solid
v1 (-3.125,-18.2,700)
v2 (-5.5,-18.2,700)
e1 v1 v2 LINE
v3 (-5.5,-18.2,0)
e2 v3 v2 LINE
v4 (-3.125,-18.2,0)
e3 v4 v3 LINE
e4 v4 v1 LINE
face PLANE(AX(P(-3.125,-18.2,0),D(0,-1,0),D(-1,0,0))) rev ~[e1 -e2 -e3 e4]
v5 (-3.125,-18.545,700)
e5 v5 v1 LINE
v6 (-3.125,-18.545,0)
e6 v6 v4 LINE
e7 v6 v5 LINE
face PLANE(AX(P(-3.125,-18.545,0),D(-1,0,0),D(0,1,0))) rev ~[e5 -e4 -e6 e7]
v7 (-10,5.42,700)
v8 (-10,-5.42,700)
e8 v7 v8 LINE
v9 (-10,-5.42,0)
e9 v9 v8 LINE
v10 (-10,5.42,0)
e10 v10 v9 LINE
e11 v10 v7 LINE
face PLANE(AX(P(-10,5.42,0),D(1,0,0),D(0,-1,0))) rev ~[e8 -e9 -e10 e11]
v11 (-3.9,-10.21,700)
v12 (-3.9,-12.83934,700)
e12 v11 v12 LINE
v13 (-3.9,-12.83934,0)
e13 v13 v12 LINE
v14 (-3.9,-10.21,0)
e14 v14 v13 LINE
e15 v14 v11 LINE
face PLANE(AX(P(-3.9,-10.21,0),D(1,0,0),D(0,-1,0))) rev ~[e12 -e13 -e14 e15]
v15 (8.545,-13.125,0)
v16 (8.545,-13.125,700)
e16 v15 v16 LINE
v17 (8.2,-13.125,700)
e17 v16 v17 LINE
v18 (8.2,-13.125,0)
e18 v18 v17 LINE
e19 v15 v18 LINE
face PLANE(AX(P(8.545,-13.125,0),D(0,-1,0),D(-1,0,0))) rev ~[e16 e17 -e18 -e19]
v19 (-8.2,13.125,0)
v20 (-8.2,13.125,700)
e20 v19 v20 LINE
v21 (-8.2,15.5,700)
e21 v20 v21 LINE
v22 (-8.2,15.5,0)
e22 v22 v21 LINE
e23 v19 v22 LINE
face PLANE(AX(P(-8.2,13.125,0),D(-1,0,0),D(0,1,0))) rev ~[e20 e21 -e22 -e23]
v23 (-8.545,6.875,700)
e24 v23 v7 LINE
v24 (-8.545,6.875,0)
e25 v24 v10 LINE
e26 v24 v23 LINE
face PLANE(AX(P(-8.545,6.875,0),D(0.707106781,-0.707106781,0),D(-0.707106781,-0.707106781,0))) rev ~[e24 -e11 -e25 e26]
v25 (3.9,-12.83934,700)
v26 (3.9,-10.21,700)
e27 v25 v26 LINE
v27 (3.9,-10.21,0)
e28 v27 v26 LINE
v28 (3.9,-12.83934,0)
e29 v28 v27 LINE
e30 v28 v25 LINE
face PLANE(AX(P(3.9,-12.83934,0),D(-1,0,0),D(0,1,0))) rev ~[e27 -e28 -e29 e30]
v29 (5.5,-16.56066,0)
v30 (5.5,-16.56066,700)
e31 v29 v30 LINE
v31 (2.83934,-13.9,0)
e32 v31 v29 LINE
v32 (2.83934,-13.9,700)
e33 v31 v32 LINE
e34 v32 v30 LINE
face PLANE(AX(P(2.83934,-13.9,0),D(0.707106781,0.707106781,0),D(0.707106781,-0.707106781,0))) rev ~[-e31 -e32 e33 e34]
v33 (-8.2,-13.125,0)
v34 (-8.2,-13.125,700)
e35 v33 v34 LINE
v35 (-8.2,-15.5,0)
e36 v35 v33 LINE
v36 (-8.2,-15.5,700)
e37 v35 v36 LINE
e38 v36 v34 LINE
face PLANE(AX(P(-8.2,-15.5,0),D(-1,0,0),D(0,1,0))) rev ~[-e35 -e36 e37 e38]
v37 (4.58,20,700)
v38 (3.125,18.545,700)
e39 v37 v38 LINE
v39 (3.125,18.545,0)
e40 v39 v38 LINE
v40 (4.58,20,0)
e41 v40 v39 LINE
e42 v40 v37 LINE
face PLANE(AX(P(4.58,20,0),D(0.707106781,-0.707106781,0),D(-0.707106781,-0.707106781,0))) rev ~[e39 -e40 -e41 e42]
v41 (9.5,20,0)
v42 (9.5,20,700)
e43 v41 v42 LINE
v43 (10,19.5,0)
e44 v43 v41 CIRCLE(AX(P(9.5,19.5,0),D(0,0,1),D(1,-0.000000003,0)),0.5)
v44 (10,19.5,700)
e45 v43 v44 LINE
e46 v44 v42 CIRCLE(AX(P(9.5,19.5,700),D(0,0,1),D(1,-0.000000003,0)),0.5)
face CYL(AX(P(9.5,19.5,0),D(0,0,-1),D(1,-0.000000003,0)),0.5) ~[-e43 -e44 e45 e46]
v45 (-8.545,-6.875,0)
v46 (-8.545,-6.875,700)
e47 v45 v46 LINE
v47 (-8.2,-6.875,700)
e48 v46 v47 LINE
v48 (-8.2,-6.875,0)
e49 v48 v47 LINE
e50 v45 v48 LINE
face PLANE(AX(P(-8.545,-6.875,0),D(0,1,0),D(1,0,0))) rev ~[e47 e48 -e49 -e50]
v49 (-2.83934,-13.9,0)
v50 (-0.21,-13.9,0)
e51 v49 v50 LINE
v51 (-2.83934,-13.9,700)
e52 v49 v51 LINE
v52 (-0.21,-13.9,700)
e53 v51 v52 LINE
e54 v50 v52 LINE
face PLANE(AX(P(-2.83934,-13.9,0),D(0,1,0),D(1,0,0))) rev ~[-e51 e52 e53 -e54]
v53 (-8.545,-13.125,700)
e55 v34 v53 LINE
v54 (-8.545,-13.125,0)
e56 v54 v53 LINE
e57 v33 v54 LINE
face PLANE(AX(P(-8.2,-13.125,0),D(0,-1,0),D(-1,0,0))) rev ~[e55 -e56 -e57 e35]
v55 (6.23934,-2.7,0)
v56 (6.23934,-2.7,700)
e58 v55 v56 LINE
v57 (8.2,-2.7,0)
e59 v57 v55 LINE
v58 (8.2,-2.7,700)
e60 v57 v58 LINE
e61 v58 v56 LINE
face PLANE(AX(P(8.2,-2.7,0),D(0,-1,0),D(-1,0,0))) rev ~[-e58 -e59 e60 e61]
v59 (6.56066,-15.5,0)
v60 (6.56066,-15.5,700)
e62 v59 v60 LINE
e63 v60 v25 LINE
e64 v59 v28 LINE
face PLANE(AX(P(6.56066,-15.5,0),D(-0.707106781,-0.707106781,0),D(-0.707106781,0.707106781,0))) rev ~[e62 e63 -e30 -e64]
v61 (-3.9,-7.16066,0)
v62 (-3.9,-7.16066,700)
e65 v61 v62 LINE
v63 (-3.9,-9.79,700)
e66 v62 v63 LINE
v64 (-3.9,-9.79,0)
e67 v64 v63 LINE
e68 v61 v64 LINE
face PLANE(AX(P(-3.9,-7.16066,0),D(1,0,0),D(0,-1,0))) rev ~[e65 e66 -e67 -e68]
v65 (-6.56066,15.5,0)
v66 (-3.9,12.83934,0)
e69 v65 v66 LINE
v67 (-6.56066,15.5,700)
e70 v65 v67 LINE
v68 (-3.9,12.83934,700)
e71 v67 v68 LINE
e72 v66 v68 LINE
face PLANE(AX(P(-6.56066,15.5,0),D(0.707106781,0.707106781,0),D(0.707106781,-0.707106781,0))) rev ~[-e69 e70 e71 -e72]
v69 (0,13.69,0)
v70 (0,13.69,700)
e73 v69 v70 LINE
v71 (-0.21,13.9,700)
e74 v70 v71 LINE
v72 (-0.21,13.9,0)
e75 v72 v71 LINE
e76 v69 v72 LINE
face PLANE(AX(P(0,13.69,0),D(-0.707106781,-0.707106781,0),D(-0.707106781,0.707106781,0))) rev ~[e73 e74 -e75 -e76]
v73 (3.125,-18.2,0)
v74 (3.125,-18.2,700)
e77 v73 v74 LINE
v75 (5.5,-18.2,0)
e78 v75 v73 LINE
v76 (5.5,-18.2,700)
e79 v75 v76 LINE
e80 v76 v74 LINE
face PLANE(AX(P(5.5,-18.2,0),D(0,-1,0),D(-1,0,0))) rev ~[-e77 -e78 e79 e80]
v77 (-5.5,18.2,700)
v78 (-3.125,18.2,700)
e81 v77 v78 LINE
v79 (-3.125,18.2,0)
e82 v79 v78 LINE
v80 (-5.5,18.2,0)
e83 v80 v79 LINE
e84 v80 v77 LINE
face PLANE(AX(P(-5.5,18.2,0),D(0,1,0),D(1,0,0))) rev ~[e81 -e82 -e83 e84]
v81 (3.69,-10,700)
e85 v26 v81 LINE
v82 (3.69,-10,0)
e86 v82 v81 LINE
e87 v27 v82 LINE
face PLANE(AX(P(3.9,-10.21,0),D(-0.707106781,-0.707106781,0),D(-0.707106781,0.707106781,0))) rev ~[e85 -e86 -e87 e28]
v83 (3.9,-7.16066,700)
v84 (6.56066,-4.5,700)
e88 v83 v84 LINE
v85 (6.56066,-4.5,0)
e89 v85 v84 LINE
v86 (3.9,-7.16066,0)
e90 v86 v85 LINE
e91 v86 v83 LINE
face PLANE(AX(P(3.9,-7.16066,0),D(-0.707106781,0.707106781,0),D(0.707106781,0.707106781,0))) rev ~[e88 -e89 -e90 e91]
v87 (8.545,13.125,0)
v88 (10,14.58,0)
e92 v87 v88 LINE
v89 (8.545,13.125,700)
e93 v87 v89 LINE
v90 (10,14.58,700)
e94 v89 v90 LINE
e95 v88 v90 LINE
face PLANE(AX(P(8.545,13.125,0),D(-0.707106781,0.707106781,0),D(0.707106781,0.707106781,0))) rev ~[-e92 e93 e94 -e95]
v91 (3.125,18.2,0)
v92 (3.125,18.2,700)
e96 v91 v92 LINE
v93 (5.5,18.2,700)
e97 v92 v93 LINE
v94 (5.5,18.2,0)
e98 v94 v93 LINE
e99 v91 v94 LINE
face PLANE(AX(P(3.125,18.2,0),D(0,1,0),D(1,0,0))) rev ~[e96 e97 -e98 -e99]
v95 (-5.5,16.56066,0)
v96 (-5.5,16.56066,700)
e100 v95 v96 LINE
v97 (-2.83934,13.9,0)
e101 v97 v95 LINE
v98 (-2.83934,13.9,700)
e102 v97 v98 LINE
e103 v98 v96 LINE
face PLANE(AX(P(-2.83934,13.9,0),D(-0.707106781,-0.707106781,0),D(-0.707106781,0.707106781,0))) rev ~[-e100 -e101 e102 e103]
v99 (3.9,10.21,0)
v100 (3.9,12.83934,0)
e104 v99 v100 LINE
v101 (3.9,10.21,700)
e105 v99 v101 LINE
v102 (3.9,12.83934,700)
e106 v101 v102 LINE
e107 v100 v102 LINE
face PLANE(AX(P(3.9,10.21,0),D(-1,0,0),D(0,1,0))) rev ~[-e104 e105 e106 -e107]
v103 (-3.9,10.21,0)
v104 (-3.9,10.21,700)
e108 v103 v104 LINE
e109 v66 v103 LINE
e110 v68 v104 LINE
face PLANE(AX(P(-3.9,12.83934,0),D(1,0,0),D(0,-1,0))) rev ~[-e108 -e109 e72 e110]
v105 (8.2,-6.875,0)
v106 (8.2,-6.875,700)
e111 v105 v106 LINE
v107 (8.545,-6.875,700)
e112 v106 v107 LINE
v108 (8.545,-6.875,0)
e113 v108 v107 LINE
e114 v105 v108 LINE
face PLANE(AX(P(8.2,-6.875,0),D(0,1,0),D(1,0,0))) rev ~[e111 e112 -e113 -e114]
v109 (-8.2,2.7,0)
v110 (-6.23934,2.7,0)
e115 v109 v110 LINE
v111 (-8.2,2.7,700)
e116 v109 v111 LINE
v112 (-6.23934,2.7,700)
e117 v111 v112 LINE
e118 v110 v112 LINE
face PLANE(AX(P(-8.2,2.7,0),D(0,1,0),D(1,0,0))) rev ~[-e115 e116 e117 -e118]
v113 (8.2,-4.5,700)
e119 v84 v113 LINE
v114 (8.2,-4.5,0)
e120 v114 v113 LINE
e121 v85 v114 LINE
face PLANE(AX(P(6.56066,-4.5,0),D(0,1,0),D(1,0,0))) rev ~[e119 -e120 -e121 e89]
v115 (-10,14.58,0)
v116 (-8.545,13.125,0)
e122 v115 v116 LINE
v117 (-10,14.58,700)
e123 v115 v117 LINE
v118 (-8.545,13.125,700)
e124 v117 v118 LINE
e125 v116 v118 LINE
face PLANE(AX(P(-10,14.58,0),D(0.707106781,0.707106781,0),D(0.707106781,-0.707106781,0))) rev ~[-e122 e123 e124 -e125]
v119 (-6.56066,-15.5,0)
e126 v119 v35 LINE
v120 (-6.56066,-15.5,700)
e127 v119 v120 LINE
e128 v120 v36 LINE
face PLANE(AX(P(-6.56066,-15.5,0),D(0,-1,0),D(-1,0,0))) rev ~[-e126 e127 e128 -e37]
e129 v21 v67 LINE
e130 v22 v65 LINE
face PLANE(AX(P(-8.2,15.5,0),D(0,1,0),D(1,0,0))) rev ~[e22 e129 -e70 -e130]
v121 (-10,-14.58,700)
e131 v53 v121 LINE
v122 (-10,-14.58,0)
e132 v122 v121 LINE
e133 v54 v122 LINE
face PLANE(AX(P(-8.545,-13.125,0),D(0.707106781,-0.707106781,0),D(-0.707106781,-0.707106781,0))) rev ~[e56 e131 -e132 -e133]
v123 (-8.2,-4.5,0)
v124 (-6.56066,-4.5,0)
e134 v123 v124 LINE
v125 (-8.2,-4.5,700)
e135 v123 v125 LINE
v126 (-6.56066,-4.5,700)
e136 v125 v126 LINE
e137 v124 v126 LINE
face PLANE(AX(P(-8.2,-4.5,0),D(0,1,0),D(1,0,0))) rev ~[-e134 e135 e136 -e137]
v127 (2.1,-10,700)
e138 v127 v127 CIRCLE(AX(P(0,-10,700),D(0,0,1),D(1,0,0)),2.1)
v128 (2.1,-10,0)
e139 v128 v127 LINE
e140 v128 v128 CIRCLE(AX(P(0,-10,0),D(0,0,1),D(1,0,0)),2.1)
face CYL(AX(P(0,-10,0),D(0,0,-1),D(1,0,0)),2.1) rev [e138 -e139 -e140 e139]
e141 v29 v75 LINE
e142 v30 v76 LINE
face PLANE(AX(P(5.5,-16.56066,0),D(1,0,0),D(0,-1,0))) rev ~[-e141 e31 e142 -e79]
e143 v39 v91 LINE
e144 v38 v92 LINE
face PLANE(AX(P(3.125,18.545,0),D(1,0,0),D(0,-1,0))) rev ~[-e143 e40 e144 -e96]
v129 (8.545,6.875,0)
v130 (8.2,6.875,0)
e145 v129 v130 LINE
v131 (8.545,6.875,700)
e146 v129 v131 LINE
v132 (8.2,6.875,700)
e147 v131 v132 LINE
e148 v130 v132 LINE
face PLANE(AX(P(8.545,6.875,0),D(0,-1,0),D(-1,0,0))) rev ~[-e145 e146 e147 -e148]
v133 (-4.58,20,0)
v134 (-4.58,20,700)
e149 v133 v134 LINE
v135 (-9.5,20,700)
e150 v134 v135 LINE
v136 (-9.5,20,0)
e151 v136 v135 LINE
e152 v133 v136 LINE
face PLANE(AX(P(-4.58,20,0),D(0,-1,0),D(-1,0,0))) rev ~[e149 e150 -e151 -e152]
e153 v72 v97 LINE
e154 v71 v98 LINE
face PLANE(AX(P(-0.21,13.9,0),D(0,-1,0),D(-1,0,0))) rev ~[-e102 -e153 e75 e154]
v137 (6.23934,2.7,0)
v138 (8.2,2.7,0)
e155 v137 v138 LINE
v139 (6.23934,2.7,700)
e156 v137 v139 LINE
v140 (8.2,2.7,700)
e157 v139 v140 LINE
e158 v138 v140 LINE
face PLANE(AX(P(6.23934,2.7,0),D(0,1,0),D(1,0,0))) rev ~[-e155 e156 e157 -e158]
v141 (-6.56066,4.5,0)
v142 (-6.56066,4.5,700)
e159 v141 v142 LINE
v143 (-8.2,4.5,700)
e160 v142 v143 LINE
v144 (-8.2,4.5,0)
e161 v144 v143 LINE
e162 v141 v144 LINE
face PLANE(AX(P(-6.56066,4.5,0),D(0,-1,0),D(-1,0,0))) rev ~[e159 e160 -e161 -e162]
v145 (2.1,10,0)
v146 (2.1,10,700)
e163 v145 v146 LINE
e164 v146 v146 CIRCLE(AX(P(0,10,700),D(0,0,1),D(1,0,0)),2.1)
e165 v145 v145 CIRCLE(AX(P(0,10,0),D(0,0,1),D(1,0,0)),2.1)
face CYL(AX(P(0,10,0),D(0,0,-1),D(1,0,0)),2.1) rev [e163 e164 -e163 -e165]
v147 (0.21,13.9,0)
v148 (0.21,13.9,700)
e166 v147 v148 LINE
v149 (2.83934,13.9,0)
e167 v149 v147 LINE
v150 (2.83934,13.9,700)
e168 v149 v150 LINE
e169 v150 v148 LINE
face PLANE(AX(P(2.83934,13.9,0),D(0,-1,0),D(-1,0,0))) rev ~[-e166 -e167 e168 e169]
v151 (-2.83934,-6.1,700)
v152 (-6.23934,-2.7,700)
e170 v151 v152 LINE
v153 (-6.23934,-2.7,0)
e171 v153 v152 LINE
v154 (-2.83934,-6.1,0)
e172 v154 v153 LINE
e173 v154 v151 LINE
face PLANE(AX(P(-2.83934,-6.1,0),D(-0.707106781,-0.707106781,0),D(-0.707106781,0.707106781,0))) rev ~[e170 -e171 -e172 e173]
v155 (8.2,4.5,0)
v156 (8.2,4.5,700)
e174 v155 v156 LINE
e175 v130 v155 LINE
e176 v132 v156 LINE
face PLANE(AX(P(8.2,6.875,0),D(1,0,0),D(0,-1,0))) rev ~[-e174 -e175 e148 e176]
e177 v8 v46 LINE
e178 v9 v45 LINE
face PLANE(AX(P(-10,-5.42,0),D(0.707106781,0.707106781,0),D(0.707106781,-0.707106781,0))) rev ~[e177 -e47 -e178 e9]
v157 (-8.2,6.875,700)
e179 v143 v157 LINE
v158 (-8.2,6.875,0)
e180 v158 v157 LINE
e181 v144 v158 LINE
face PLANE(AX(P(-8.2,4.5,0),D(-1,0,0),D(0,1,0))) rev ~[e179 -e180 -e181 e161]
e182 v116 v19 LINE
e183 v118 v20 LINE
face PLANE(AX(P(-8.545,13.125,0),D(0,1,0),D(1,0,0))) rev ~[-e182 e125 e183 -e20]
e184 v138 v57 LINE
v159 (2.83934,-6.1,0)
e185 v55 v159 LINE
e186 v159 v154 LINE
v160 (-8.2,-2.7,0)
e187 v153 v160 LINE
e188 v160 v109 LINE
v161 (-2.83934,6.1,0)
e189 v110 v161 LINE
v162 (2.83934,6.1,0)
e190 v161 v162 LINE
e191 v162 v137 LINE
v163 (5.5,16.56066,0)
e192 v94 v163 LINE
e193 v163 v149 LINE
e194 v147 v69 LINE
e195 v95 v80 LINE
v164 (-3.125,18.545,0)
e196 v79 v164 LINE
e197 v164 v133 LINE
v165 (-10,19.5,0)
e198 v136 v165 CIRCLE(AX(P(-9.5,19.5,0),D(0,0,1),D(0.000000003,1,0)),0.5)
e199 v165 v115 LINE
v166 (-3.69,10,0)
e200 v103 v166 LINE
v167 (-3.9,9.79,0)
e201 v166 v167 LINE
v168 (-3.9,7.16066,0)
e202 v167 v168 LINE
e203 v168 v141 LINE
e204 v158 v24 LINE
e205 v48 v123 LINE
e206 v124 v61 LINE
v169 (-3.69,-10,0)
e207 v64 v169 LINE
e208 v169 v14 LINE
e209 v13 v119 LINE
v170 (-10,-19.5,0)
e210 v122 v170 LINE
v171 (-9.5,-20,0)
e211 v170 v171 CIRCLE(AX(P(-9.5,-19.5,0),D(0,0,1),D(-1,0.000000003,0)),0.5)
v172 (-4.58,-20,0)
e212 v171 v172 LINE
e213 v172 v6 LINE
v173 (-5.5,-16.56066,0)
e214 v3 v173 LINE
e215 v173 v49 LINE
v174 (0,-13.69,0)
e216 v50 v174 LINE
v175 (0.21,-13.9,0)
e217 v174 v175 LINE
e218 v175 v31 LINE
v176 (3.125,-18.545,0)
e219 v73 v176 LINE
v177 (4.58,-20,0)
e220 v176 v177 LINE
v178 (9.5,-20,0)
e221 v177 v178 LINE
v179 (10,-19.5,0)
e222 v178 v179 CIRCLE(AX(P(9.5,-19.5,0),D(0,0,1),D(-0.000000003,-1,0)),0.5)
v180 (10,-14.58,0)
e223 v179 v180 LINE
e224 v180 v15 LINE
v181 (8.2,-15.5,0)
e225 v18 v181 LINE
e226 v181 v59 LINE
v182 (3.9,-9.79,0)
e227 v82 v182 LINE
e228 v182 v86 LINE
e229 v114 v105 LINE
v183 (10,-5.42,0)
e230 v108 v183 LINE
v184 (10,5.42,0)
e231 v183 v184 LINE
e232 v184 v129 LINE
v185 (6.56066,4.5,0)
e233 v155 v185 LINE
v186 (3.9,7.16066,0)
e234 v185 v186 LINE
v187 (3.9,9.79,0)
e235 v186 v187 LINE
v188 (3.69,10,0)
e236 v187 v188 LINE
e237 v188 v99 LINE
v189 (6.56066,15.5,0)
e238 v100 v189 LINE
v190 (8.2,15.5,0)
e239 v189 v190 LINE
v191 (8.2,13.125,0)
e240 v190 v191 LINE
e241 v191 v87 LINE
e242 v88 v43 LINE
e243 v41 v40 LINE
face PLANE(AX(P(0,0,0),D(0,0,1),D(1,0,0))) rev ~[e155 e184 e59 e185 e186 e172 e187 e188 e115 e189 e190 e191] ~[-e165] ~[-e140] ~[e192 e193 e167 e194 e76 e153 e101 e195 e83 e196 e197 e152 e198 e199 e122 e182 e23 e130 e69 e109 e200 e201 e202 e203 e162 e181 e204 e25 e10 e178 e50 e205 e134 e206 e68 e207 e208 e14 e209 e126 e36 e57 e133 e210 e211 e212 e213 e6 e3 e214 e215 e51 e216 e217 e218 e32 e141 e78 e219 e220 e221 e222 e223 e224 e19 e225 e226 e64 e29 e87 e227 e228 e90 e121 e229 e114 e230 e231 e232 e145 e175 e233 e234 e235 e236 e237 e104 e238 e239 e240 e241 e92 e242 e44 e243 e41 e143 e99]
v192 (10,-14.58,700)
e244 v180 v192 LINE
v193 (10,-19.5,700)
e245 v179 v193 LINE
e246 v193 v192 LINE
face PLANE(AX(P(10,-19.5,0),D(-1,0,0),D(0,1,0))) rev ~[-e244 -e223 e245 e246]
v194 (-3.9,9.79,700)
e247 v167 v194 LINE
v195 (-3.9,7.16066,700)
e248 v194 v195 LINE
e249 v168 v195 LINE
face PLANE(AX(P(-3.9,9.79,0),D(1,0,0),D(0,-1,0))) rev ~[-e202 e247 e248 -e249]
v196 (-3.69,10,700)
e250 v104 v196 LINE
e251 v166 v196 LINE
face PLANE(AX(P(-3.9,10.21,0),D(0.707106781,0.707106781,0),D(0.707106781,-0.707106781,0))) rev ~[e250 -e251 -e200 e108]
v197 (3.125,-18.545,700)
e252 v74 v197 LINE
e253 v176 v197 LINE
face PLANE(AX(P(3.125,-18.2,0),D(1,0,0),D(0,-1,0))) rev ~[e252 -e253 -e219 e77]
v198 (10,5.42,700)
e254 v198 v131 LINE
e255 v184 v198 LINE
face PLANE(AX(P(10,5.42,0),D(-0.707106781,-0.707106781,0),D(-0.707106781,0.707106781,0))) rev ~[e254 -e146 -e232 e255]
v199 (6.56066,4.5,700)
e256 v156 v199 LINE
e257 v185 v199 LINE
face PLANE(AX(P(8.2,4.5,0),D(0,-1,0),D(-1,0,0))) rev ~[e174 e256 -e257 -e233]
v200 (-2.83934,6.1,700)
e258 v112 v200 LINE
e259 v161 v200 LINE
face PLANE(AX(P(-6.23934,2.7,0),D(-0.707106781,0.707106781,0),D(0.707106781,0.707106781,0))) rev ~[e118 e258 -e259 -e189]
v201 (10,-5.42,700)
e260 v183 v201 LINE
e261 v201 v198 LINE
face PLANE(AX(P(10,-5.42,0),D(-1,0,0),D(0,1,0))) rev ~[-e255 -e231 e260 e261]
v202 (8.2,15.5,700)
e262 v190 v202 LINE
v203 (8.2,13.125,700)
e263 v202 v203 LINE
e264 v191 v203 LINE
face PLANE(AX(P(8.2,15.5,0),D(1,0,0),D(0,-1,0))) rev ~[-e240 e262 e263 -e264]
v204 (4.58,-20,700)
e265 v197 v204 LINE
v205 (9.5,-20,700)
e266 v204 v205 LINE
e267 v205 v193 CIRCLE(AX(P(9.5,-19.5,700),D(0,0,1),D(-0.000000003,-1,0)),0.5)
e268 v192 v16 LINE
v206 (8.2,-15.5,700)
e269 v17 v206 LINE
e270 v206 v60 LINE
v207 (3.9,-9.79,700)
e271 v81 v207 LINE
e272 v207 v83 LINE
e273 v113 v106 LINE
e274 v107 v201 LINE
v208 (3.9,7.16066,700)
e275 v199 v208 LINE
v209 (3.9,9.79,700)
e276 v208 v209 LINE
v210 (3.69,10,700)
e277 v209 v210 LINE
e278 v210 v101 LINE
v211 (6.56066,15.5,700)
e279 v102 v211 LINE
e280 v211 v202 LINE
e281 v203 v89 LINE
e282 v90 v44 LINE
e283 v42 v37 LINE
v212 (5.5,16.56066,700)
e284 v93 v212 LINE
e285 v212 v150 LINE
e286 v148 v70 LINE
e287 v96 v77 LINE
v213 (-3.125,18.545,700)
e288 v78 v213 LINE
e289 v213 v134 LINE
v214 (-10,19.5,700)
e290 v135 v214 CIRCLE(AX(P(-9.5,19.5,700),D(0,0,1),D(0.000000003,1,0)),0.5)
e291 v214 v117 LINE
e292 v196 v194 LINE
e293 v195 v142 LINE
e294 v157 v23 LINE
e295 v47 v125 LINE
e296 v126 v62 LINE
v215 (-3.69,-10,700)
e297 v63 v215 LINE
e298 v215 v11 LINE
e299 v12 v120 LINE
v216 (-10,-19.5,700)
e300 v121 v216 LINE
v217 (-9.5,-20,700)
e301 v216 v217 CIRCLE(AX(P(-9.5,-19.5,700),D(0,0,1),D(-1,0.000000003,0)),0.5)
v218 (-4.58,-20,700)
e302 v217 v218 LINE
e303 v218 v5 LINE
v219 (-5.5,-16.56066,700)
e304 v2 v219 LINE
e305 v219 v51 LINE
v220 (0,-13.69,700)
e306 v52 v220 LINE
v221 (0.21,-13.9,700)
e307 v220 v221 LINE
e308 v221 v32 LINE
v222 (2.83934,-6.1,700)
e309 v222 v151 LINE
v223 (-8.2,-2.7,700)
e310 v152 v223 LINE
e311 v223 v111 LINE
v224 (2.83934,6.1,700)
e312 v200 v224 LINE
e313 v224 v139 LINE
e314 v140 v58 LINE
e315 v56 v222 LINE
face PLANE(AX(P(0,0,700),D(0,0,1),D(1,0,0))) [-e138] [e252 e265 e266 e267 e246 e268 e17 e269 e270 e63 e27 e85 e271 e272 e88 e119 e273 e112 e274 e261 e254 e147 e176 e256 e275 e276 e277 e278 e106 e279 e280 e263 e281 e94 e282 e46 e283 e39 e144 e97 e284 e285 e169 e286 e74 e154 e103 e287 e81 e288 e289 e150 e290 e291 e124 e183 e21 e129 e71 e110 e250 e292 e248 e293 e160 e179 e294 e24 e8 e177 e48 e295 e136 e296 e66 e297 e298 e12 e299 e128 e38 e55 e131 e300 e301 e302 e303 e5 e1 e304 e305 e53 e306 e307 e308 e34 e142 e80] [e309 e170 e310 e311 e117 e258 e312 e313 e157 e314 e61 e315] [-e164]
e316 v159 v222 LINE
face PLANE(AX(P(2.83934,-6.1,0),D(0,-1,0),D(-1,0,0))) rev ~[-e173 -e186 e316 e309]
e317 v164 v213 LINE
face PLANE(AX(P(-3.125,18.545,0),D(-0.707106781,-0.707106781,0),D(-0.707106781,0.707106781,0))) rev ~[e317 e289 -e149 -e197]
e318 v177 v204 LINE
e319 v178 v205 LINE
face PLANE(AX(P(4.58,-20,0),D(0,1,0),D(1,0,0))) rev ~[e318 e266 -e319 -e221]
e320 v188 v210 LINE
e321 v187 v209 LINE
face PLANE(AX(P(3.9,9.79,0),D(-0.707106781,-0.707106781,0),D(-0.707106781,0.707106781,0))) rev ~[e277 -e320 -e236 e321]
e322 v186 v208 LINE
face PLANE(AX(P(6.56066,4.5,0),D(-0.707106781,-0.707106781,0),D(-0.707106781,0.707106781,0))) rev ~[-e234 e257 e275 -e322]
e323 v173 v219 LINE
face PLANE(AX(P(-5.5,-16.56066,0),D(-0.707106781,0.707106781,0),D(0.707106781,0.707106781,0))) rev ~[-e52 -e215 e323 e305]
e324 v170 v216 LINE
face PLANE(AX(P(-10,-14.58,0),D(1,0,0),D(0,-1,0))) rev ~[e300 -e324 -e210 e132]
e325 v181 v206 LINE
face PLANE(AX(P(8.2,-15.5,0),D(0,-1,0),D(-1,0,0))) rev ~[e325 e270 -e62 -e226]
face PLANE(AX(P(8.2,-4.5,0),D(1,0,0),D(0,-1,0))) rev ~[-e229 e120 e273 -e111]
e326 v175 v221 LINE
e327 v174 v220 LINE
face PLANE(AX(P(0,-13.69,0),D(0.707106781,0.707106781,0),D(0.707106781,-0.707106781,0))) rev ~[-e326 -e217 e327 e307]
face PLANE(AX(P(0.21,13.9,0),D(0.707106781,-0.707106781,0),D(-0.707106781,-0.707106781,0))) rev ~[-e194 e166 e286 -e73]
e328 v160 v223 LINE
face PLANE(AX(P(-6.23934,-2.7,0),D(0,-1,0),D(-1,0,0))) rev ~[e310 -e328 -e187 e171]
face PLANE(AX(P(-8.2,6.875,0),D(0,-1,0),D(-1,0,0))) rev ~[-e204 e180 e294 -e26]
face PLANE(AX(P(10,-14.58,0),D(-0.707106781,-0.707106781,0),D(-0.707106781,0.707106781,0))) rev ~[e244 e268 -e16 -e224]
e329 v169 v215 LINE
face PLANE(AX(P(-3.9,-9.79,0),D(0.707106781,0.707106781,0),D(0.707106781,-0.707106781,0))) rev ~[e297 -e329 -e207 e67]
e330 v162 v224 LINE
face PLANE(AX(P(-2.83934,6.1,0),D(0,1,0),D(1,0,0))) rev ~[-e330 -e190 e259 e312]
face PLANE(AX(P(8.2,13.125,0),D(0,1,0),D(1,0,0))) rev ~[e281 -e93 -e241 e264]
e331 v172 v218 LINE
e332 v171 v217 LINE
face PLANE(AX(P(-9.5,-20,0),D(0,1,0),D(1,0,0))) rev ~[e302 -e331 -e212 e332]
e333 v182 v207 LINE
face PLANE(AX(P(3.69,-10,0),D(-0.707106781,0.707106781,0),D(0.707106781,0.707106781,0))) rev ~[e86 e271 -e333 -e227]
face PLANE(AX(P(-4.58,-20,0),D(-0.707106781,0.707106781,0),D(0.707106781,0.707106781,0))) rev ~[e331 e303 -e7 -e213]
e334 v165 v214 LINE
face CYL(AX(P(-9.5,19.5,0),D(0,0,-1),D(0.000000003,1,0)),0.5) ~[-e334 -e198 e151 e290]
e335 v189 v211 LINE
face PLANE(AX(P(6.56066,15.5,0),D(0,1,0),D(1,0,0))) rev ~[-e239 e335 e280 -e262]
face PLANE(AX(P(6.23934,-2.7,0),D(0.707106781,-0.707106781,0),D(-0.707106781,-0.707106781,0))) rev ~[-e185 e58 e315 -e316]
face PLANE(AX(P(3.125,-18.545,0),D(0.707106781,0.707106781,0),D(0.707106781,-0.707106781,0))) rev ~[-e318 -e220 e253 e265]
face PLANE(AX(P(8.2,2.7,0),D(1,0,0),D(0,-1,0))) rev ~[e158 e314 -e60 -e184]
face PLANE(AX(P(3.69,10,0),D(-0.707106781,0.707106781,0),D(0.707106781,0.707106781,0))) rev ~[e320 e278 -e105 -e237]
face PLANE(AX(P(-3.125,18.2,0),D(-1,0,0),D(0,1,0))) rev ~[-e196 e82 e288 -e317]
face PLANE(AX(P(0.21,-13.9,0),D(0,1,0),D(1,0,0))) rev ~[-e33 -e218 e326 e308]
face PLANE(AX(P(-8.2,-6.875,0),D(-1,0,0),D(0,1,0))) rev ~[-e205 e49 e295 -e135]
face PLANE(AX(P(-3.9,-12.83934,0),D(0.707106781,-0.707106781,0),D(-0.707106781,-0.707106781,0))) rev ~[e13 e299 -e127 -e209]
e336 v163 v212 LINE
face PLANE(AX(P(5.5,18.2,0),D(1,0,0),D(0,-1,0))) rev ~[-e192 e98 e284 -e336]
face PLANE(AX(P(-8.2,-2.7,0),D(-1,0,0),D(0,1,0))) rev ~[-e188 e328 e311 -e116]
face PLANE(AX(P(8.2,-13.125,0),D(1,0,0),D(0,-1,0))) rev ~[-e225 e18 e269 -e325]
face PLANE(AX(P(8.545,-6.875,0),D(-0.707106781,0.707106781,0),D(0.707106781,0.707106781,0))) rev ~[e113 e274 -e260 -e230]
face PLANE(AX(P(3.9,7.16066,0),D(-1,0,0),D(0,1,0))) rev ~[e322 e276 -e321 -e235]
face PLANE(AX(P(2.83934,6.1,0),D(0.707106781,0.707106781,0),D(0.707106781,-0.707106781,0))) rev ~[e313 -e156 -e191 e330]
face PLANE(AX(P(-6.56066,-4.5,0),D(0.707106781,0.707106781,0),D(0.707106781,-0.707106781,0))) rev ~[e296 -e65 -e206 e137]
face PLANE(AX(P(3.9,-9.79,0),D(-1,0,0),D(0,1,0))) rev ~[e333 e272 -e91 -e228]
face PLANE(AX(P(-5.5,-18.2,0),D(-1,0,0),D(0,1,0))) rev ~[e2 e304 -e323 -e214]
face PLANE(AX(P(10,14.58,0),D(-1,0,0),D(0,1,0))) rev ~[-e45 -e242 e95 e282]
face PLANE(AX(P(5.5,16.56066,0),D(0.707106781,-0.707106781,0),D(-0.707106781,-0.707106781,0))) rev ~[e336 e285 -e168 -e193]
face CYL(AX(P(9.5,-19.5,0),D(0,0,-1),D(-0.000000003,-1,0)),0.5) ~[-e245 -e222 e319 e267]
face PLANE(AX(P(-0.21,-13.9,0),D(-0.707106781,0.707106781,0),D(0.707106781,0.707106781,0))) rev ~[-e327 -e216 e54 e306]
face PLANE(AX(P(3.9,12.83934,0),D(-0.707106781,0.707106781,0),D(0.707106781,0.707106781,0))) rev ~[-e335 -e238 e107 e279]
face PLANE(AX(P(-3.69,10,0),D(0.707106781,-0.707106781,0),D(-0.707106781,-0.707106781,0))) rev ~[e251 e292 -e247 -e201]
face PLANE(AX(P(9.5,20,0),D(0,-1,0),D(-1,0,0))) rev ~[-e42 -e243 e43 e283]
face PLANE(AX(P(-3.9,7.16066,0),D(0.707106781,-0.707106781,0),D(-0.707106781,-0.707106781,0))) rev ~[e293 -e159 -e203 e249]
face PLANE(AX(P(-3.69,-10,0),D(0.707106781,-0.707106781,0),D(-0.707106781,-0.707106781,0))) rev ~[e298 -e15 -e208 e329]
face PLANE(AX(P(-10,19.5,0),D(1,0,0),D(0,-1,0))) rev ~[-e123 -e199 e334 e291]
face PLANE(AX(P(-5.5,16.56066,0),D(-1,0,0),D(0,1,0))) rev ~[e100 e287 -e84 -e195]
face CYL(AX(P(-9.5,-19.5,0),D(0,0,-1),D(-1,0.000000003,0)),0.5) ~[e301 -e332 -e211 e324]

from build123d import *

# Parameters (mm, degrees)
SKETCH1_R           = 2.1
BOSS_EXTRUDE1_DEPTH = 700


with BuildPart() as part:
    # Sketch1 → Boss-Extrude1 (new body)
    with BuildSketch(Plane.XY):
        with BuildLine():
            Line((4.58, -20), (9.5, -20))
            ThreePointArc((9.5, -20), (9.853553391, -19.853553391), (10, -19.5))
            Line((10, -19.5), (10, -14.58))
            Line((10, -14.58), (8.545, -13.125))
            Line((8.545, -13.125), (8.2, -13.125))
            Line((8.2, -13.125), (8.2, -15.5))
            Line((8.2, -15.5), (6.560660172, -15.5))
            Line((6.560660172, -15.5), (3.9, -12.839339828))
            Line((3.9, -12.839339828), (3.9, -10.21))
            Line((3.9, -10.21), (3.69, -10))
            Line((3.69, -10), (3.9, -9.79))
            Line((3.9, -9.79), (3.9, -7.160660172))
            Line((3.9, -7.160660172), (6.560660172, -4.5))
            Line((6.560660172, -4.5), (8.2, -4.5))
            Line((8.2, -4.5), (8.2, -6.875))
            Line((8.2, -6.875), (8.545, -6.875))
            Line((8.545, -6.875), (10, -5.42))
            Line((10, -5.42), (10, 5.42))
            Line((10, 5.42), (8.545, 6.875))
            Line((8.545, 6.875), (8.2, 6.875))
            Line((8.2, 6.875), (8.2, 4.5))
            Line((8.2, 4.5), (6.560660172, 4.5))
            Line((6.560660172, 4.5), (3.9, 7.160660172))
            Line((3.9, 7.160660172), (3.9, 9.79))
            Line((3.9, 9.79), (3.69, 10))
            Line((3.69, 10), (3.9, 10.21))
            Line((3.9, 10.21), (3.9, 12.839339828))
            Line((3.9, 12.839339828), (6.560660172, 15.5))
            Line((6.560660172, 15.5), (8.2, 15.5))
            Line((8.2, 15.5), (8.2, 13.125))
            Line((8.2, 13.125), (8.545, 13.125))
            Line((8.545, 13.125), (10, 14.58))
            Line((10, 14.58), (10, 19.5))
            ThreePointArc((10, 19.5), (9.853553391, 19.853553391), (9.5, 20))
            Line((9.5, 20), (4.58, 20))
            Line((4.58, 20), (3.125, 18.545))
            Line((3.125, 18.545), (3.125, 18.2))
            Line((3.125, 18.2), (5.5, 18.2))
            Line((5.5, 18.2), (5.5, 16.560660172))
            Line((5.5, 16.560660172), (2.839339828, 13.9))
            Line((2.839339828, 13.9), (0.21, 13.9))
            Line((0.21, 13.9), (0, 13.69))
            Line((0, 13.69), (-0.21, 13.9))
            Line((-0.21, 13.9), (-2.839339828, 13.9))
            Line((-2.839339828, 13.9), (-5.5, 16.560660172))
            Line((-5.5, 16.560660172), (-5.5, 18.2))
            Line((-5.5, 18.2), (-3.125, 18.2))
            Line((-3.125, 18.2), (-3.125, 18.545))
            Line((-3.125, 18.545), (-4.58, 20))
            Line((-4.58, 20), (-9.5, 20))
            ThreePointArc((-9.5, 20), (-9.853553391, 19.853553391), (-10, 19.5))
            Line((-10, 19.5), (-10, 14.58))
            Line((-10, 14.58), (-8.545, 13.125))
            Line((-8.545, 13.125), (-8.2, 13.125))
            Line((-8.2, 13.125), (-8.2, 15.5))
            Line((-8.2, 15.5), (-6.560660172, 15.5))
            Line((-6.560660172, 15.5), (-3.9, 12.839339828))
            Line((-3.9, 12.839339828), (-3.9, 10.21))
            Line((-3.9, 10.21), (-3.69, 10))
            Line((-3.69, 10), (-3.9, 9.79))
            Line((-3.9, 9.79), (-3.9, 7.160660172))
            Line((-3.9, 7.160660172), (-6.560660172, 4.5))
            Line((-6.560660172, 4.5), (-8.2, 4.5))
            Line((-8.2, 4.5), (-8.2, 6.875))
            Line((-8.2, 6.875), (-8.545, 6.875))
            Line((-8.545, 6.875), (-10, 5.42))
            Line((-10, 5.42), (-10, -5.42))
            Line((-10, -5.42), (-8.545, -6.875))
            Line((-8.545, -6.875), (-8.2, -6.875))
            Line((-8.2, -6.875), (-8.2, -4.5))
            Line((-8.2, -4.5), (-6.560660172, -4.5))
            Line((-6.560660172, -4.5), (-3.9, -7.160660172))
            Line((-3.9, -7.160660172), (-3.9, -9.79))
            Line((-3.9, -9.79), (-3.69, -10))
            Line((-3.69, -10), (-3.9, -10.21))
            Line((-3.9, -10.21), (-3.9, -12.839339828))
            Line((-3.9, -12.839339828), (-6.560660172, -15.5))
            Line((-6.560660172, -15.5), (-8.2, -15.5))
            Line((-8.2, -15.5), (-8.2, -13.125))
            Line((-8.2, -13.125), (-8.545, -13.125))
            Line((-8.545, -13.125), (-10, -14.58))
            Line((-10, -14.58), (-10, -19.5))
            ThreePointArc((-10, -19.5), (-9.853553391, -19.853553391), (-9.5, -20))
            Line((-9.5, -20), (-4.58, -20))
            Line((-4.58, -20), (-3.125, -18.545))
            Line((-3.125, -18.545), (-3.125, -18.2))
            Line((-3.125, -18.2), (-5.5, -18.2))
            Line((-5.5, -18.2), (-5.5, -16.560660172))
            Line((-5.5, -16.560660172), (-2.839339828, -13.9))
            Line((-2.839339828, -13.9), (-0.21, -13.9))
            Line((-0.21, -13.9), (0, -13.69))
            Line((0, -13.69), (0.21, -13.9))
            Line((0.21, -13.9), (2.839339828, -13.9))
            Line((2.839339828, -13.9), (5.5, -16.560660172))
            Line((5.5, -16.560660172), (5.5, -18.2))
            Line((5.5, -18.2), (3.125, -18.2))
            Line((3.125, -18.2), (3.125, -18.545))
            Line((3.125, -18.545), (4.58, -20))
        make_face()
        with Locations((0, -10)):
            Circle(SKETCH1_R, mode=Mode.SUBTRACT)
        Polygon((-6.239339828, -2.7), (-8.2, -2.7), (-8.2, 2.7), (-6.239339828, 2.7), (-2.839339828, 6.1), (2.839339828, 6.1), (6.239339828, 2.7), (8.2, 2.7), (8.2, -2.7), (6.239339828, -2.7), (2.839339828, -6.1), (-2.839339828, -6.1), align=None, mode=Mode.SUBTRACT)
        with Locations((0, 10)):
            Circle(SKETCH1_R, mode=Mode.SUBTRACT)
    extrude(amount=BOSS_EXTRUDE1_DEPTH)


solid = part.part
